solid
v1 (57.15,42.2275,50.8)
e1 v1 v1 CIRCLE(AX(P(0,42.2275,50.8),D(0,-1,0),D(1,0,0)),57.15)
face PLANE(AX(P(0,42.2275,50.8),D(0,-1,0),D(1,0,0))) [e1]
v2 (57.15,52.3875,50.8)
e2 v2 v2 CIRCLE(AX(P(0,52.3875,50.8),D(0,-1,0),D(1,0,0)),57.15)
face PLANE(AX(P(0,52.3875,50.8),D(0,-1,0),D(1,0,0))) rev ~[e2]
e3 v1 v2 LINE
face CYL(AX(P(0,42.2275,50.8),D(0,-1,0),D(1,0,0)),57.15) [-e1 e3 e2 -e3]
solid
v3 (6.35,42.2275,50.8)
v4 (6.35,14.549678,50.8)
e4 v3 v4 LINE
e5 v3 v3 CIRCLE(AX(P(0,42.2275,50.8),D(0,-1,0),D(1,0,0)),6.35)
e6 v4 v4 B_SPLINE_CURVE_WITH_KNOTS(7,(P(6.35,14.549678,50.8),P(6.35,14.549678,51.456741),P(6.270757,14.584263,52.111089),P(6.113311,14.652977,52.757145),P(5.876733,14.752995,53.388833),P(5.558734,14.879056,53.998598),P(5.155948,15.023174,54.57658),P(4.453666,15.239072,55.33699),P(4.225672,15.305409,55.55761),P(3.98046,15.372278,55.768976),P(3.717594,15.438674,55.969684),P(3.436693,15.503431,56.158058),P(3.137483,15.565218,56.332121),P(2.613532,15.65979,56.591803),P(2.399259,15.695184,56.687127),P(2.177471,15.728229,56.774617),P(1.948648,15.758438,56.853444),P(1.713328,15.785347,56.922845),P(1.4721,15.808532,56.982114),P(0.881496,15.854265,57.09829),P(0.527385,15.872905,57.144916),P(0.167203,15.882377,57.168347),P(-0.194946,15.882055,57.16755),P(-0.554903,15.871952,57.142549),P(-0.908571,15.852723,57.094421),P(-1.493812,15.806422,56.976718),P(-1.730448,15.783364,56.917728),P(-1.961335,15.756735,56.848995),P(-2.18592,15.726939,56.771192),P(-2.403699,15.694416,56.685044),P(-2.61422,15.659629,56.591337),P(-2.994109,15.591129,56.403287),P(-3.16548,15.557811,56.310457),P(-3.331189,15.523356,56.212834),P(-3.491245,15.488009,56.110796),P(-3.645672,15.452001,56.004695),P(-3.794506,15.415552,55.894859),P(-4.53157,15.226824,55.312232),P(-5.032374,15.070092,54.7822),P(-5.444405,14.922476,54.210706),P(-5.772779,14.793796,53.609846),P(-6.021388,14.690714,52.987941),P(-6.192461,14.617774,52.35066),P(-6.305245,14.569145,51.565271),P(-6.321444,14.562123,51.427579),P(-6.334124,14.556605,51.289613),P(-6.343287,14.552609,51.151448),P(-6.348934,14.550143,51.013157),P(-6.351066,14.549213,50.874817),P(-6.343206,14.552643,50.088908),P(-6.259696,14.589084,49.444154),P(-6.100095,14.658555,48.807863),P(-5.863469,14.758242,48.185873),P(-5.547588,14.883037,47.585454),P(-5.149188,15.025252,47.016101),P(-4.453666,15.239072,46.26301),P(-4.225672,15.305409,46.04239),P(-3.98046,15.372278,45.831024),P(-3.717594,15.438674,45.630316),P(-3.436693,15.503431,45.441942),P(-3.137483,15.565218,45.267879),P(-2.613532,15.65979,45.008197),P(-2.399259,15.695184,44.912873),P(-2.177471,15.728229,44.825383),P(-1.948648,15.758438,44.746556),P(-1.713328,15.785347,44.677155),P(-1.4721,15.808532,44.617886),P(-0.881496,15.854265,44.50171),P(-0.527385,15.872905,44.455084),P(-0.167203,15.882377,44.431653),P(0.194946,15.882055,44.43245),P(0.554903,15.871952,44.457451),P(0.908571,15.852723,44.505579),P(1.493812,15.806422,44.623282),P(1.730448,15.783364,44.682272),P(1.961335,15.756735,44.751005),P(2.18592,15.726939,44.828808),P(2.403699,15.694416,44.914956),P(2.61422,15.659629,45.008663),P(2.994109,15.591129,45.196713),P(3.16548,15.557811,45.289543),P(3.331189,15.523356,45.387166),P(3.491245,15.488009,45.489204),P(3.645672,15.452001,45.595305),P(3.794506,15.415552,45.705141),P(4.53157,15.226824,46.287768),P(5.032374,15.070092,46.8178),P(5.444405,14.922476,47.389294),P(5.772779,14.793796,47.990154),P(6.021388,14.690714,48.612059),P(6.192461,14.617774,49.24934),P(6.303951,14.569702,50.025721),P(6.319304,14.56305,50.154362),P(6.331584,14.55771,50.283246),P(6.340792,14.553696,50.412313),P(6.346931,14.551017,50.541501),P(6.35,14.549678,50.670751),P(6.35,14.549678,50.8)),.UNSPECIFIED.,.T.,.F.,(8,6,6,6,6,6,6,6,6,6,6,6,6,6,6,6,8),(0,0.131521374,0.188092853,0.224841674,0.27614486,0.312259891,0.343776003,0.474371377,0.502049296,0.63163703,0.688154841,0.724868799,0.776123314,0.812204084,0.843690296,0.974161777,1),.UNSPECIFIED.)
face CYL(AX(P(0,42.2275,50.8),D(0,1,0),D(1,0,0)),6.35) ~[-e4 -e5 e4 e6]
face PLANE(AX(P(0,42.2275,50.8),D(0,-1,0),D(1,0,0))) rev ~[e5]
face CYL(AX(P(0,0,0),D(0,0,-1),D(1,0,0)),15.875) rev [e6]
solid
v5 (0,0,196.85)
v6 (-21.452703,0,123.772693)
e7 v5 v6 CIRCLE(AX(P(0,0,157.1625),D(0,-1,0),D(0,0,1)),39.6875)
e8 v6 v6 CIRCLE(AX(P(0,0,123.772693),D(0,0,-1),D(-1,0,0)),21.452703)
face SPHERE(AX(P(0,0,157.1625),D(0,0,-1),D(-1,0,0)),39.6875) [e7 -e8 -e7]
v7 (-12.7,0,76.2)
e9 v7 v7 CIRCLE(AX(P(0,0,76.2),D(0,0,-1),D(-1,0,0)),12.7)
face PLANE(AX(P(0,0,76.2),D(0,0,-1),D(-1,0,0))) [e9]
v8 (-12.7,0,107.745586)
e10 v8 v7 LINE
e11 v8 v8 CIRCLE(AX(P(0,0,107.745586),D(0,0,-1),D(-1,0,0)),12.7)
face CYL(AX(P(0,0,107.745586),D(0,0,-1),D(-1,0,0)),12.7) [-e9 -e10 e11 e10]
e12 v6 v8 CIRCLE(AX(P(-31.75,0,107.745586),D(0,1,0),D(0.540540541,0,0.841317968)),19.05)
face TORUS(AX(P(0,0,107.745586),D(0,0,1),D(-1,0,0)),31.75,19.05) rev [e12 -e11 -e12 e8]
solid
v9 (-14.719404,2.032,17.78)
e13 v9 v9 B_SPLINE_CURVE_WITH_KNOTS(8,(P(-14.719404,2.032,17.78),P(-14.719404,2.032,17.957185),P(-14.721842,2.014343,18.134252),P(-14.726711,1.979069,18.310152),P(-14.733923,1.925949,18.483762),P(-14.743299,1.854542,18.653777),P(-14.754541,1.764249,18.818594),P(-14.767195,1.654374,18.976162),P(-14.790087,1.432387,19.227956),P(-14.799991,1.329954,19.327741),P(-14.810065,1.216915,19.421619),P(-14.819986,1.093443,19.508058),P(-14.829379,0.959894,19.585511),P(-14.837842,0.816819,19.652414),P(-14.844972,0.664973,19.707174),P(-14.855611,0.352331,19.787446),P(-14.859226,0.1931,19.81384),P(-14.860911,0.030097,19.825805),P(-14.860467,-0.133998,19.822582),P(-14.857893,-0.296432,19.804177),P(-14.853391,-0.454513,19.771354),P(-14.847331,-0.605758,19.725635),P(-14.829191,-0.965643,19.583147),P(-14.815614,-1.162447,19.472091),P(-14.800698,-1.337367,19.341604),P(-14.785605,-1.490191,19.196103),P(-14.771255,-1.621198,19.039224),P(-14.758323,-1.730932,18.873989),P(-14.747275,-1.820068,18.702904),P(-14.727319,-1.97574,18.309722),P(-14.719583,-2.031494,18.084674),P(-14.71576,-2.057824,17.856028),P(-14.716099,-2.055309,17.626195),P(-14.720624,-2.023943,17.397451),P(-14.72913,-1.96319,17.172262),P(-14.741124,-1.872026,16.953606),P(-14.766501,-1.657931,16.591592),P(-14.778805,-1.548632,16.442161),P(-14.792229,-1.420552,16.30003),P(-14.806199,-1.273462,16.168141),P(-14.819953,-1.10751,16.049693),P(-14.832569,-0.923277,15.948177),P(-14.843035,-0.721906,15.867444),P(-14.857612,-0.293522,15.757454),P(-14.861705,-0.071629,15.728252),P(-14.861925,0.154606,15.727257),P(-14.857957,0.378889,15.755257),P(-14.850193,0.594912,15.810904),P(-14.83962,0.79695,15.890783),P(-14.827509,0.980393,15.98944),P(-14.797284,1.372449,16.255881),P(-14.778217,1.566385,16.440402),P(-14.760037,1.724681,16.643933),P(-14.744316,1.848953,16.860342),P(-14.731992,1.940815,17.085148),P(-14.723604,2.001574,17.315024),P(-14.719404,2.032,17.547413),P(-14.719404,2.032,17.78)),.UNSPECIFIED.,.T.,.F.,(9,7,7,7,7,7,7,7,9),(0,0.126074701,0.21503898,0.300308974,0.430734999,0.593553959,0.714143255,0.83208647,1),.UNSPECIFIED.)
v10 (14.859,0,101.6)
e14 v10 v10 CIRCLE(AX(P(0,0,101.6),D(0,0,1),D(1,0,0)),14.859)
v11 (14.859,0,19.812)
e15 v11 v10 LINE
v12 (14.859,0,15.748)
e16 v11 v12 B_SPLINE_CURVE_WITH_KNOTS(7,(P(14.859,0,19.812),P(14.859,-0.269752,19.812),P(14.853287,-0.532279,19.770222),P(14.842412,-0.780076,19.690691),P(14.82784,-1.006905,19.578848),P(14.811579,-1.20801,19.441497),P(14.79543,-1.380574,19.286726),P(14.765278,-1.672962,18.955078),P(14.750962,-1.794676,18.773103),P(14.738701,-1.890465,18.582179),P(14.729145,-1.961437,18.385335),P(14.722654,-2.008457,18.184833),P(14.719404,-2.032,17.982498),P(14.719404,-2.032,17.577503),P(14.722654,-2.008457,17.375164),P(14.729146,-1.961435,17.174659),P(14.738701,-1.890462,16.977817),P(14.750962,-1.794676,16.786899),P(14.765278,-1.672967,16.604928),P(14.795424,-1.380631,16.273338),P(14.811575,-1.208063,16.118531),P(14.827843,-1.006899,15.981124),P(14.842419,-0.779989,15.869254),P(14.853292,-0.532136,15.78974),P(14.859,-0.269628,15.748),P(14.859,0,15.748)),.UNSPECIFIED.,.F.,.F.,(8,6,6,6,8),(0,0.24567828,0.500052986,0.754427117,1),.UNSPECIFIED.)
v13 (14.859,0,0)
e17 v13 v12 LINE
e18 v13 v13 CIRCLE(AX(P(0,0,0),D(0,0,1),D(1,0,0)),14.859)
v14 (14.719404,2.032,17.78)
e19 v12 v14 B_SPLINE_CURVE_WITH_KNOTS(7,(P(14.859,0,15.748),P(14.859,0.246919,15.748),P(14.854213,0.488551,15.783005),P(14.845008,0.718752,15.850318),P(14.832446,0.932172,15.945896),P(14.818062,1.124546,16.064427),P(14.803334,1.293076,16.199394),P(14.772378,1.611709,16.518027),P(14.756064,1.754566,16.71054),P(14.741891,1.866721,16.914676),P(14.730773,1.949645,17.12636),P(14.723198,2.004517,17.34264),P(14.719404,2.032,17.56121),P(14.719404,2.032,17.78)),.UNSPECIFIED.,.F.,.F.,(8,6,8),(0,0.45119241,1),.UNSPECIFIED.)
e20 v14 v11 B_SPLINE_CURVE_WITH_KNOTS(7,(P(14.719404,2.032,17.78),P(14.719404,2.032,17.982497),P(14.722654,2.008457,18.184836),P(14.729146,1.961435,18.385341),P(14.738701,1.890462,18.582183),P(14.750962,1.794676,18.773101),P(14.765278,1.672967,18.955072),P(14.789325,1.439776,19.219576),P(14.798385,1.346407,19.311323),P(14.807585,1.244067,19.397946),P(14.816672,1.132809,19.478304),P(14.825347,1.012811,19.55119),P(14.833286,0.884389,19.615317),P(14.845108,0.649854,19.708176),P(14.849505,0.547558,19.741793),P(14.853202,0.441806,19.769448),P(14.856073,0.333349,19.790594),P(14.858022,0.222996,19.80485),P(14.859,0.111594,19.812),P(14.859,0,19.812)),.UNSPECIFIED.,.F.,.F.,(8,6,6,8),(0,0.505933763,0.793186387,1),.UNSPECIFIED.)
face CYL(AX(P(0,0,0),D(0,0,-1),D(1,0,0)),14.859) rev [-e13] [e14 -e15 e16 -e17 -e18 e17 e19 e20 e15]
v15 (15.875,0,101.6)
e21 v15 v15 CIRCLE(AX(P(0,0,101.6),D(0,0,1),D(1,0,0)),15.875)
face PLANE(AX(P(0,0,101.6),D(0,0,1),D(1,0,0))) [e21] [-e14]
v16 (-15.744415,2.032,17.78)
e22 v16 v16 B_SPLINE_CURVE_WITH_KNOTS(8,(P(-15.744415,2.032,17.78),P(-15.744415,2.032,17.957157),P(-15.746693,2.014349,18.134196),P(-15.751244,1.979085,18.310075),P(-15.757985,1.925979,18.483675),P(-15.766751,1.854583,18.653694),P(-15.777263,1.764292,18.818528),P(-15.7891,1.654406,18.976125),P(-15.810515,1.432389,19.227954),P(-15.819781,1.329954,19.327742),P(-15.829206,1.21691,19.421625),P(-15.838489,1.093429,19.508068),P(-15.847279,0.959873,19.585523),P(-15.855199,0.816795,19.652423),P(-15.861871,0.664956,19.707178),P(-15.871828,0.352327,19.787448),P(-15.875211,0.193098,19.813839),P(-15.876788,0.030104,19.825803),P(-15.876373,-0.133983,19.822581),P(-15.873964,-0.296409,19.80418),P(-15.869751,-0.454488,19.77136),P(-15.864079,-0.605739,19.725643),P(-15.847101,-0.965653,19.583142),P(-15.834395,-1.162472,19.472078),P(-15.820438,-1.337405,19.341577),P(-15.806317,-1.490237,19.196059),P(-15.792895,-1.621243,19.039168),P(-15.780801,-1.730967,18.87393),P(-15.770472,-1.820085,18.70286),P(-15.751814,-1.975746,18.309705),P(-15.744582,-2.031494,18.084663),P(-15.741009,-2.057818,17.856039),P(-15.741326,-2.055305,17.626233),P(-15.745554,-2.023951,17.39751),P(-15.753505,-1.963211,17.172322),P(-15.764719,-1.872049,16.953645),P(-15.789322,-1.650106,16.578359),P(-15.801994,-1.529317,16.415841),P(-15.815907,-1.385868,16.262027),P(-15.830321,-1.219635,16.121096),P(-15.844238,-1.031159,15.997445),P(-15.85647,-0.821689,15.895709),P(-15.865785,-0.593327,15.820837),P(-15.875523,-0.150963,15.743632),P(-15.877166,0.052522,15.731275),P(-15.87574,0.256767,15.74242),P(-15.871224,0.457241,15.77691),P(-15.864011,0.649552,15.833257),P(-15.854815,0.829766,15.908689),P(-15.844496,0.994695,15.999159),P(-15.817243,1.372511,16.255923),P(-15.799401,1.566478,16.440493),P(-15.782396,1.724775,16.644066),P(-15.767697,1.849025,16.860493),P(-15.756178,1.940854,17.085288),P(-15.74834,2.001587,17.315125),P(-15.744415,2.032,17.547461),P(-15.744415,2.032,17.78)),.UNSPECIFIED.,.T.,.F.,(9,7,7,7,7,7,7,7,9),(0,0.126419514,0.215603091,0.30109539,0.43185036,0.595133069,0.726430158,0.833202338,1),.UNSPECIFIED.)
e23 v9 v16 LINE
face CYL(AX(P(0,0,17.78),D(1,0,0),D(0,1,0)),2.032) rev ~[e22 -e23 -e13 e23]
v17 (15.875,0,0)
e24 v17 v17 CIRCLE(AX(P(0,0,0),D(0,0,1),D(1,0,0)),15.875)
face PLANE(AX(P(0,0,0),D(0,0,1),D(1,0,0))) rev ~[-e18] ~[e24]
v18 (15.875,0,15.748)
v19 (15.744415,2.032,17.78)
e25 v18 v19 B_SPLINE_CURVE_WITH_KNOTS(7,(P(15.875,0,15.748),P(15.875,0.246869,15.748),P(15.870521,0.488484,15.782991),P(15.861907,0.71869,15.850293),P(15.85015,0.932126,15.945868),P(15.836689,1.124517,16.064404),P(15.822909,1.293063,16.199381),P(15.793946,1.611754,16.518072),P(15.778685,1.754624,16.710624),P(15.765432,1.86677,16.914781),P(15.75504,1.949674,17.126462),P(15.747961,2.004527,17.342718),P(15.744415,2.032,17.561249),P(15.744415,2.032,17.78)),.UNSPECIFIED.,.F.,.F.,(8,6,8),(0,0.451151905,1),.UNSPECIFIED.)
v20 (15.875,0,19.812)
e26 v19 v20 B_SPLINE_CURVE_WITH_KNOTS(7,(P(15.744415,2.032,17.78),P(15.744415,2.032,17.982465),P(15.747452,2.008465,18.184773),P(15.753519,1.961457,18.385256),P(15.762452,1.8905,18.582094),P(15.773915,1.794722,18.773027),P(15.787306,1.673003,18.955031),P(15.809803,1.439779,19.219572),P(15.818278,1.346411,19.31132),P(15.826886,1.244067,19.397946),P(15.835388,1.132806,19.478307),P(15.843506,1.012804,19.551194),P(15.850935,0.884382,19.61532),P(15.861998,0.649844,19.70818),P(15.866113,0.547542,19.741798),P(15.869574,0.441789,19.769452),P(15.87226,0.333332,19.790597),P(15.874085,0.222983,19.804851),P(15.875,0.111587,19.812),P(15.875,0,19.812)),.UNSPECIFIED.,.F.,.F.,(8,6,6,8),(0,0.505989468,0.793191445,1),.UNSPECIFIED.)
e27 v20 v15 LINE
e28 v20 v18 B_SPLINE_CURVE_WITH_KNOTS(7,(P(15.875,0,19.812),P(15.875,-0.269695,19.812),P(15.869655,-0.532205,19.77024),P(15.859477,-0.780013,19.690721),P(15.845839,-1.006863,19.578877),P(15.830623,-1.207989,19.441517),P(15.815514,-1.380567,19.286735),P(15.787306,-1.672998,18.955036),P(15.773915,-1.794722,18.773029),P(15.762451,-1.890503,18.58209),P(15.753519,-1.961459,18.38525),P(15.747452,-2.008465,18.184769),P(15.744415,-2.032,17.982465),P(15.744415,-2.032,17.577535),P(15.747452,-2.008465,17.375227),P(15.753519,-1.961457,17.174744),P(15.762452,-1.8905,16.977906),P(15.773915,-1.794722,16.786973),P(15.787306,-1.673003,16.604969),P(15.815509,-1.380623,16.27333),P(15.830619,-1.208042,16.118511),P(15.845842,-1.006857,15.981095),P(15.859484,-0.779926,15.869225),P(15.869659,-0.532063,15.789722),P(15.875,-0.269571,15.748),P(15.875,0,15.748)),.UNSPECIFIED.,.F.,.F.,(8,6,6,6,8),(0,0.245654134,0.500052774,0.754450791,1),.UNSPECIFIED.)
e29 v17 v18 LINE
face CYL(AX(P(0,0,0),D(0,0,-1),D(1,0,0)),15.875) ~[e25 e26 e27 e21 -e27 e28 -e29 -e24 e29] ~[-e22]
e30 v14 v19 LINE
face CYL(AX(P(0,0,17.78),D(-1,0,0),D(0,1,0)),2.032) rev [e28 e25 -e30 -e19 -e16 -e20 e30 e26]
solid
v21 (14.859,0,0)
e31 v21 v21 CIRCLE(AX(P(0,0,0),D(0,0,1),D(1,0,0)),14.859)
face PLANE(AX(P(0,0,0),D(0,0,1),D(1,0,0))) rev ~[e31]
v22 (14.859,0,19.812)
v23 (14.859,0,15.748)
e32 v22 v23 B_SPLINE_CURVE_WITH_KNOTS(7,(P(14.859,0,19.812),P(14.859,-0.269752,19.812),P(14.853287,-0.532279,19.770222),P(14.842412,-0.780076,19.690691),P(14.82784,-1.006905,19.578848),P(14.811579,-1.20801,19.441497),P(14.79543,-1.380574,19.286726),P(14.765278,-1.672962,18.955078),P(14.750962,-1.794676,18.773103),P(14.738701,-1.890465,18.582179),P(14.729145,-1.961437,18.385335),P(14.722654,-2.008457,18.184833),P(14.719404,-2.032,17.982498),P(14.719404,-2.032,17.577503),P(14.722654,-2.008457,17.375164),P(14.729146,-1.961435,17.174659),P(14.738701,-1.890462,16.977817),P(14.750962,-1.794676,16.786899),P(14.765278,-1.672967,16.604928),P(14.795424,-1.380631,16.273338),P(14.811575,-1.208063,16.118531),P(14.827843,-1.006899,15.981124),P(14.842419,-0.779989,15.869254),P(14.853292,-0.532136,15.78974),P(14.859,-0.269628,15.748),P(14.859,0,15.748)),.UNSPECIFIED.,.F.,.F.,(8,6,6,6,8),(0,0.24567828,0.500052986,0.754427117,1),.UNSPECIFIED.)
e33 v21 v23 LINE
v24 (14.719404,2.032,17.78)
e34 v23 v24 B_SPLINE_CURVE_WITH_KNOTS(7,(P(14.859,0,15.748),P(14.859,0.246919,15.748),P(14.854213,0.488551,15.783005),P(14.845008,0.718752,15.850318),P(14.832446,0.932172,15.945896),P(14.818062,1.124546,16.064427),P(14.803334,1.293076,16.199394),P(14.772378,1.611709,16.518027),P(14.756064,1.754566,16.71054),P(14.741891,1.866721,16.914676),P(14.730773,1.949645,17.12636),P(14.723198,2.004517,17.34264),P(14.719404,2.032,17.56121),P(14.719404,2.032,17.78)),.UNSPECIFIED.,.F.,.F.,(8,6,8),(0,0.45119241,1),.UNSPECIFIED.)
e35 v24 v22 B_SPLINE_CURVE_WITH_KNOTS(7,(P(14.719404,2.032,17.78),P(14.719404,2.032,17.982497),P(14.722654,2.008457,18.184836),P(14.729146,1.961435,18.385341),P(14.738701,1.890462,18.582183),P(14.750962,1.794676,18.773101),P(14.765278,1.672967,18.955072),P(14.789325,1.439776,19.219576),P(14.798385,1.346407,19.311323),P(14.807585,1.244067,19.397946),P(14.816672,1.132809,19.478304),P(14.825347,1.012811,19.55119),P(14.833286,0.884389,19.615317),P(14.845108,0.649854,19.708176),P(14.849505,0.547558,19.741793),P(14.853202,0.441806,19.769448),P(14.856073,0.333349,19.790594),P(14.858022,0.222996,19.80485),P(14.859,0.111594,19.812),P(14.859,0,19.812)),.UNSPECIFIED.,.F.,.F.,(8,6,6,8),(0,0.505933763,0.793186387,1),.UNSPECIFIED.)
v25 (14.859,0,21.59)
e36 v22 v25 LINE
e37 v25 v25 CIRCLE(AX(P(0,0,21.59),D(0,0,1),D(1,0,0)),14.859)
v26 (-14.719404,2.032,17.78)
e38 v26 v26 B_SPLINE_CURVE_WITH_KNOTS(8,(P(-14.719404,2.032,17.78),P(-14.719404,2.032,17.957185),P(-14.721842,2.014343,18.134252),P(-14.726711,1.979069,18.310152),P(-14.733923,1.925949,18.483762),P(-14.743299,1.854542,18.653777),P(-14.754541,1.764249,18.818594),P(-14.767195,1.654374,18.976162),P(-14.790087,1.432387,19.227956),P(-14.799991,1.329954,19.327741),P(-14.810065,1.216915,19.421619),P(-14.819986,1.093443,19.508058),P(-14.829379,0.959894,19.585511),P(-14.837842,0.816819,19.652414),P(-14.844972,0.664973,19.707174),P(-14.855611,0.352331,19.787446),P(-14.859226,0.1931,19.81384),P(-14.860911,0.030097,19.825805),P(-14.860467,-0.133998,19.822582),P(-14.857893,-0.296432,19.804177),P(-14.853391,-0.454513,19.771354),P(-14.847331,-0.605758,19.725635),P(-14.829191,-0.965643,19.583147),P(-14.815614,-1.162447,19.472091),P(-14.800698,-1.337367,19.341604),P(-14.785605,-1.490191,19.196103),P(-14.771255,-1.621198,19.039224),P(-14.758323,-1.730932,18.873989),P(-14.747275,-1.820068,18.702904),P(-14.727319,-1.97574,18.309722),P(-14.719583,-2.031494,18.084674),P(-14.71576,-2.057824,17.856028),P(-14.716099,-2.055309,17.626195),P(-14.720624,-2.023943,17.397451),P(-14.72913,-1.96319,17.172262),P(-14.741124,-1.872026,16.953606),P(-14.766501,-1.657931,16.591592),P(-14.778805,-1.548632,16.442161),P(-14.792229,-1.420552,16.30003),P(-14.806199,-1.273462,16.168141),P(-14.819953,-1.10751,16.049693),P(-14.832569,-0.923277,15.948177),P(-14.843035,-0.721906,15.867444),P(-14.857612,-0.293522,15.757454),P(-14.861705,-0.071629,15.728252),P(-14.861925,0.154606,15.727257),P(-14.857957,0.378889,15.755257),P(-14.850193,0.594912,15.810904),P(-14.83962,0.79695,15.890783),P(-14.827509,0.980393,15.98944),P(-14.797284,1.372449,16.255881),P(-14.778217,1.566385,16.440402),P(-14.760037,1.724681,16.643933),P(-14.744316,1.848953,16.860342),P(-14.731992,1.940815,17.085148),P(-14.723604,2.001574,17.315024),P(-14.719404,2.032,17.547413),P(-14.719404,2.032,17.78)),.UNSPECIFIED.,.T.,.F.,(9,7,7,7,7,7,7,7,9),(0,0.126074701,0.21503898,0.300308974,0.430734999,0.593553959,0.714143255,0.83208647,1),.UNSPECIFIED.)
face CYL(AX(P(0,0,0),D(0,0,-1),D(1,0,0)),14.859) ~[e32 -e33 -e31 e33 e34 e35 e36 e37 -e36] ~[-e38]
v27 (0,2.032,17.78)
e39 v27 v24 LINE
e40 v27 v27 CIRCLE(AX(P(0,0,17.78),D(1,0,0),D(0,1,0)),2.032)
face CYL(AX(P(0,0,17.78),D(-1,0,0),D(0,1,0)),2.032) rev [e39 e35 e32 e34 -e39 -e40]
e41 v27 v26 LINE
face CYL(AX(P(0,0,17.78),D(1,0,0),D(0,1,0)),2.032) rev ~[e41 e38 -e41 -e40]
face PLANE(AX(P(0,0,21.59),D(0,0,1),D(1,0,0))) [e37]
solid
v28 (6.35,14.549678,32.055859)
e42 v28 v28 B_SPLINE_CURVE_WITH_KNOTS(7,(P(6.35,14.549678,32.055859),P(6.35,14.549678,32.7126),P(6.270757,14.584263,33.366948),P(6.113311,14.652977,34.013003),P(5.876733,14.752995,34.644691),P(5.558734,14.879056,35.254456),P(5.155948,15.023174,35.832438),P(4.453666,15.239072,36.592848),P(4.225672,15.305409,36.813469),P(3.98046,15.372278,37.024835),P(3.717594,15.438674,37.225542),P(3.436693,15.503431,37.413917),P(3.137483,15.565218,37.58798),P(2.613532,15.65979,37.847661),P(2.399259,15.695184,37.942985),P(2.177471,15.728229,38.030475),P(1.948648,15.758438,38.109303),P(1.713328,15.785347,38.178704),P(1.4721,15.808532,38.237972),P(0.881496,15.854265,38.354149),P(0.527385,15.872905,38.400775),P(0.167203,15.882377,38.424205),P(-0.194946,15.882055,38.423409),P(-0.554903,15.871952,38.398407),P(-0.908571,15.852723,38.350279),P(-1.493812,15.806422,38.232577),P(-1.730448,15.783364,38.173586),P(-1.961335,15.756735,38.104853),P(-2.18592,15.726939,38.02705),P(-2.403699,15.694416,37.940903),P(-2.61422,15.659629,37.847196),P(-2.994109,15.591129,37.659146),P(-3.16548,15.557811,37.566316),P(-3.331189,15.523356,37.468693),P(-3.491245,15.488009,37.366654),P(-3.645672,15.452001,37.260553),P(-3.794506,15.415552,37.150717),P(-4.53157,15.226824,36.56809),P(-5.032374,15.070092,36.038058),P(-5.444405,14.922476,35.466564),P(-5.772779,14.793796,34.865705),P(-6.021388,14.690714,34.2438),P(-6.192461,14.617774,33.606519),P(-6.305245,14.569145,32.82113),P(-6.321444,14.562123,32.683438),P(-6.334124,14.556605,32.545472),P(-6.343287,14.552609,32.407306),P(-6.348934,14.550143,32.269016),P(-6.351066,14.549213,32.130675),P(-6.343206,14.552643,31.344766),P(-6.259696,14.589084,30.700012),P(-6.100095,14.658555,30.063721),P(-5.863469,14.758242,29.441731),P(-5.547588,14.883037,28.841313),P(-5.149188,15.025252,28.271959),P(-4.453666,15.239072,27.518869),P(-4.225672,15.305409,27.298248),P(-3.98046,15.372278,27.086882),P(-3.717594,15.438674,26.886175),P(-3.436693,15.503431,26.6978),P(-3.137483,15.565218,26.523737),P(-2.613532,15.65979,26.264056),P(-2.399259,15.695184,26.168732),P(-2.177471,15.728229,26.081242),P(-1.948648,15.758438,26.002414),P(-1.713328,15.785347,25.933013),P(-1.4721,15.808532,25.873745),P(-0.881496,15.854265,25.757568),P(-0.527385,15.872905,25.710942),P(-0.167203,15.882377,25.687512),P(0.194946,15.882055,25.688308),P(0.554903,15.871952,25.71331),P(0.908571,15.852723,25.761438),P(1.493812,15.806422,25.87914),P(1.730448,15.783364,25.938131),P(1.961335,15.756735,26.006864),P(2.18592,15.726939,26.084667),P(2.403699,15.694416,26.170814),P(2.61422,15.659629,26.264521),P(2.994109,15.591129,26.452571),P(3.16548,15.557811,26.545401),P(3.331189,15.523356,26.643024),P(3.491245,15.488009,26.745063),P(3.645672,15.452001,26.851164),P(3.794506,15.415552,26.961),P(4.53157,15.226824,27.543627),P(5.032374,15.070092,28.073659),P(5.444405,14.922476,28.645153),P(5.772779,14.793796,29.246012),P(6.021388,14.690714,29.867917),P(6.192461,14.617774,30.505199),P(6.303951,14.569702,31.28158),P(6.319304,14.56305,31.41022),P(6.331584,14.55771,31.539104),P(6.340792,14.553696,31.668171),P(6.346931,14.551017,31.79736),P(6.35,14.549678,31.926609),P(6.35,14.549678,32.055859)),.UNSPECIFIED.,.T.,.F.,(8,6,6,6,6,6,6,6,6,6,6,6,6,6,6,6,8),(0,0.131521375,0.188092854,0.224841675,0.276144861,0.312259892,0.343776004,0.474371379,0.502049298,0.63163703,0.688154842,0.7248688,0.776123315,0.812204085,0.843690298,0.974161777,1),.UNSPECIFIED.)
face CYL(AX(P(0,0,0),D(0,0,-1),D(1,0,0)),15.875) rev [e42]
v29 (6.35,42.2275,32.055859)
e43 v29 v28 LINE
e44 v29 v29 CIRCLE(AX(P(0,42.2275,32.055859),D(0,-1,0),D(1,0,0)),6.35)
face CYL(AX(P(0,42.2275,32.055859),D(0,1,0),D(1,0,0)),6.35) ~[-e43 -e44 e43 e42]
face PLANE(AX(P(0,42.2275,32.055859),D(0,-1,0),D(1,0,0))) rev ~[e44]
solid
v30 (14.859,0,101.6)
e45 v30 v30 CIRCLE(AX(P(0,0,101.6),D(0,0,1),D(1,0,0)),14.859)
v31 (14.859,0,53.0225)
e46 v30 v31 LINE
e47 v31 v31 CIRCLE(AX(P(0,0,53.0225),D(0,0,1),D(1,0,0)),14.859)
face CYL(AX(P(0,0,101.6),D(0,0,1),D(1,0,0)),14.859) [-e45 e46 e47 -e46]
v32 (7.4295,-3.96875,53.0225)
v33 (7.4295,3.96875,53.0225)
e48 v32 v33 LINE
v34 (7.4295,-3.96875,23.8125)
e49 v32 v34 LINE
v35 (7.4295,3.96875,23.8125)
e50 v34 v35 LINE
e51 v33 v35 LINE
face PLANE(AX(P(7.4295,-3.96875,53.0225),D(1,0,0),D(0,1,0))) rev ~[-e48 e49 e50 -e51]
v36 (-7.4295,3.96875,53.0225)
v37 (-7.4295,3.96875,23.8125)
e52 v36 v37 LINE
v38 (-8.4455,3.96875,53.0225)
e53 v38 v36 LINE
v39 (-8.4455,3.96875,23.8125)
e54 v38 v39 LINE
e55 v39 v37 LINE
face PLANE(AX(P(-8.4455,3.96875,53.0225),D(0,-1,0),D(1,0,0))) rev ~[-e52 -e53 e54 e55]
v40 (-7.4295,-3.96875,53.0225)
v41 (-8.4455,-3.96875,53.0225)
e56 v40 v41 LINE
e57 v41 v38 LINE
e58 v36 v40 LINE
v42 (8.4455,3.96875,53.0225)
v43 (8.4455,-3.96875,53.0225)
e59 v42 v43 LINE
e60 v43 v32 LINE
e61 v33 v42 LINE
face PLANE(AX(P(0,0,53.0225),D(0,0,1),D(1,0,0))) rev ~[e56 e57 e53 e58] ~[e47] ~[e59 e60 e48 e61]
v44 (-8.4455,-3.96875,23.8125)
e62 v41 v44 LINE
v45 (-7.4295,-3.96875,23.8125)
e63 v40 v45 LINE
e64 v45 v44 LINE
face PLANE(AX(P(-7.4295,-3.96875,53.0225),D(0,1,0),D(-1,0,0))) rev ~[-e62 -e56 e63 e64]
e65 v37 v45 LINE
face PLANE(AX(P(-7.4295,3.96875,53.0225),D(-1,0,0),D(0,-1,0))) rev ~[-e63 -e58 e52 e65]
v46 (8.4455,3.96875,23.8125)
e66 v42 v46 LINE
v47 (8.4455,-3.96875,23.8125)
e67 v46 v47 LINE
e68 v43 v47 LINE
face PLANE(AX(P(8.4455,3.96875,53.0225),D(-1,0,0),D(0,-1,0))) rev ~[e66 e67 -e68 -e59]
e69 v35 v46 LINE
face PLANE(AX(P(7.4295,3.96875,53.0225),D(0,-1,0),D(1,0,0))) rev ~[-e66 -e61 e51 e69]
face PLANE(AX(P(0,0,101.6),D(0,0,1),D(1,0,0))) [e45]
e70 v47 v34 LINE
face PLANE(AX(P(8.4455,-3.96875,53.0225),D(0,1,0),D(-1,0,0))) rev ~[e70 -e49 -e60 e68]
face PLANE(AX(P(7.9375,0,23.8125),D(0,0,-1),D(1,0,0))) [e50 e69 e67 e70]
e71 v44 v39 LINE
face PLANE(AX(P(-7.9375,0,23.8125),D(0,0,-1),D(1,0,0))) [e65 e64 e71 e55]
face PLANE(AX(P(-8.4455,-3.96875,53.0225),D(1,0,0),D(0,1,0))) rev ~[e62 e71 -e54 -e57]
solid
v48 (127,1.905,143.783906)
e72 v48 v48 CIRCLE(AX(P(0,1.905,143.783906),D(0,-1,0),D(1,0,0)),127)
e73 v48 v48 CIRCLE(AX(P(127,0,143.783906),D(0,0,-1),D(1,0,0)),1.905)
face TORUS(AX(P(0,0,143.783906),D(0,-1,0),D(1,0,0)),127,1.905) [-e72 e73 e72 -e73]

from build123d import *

# Parameters (mm, degrees)
F0_R          = 15.875
F0_R_2        = 14.859
F1_DEPTH      = 101.6
F2_DEPTH      = 21.59
F5_R          = 2.032
F6_DEPTH      = 39.6885
F6_DEPTH_BACK = 39.6885
F8_R          = 1.905
F13_R         = 6.35
F13_R_2       = 57.15
F15_DEPTH     = 10.16
F16_R         = 14.859
F17_DEPTH     = 48.5775
F19_DEPTH     = 29.21


with BuildPart() as f1:
    # F0 (on Top) → F1 (new body)
    with BuildSketch(Plane.XY):
        Circle(F0_R)
        Circle(F0_R_2, mode=Mode.SUBTRACT)
    extrude(amount=F1_DEPTH)


with BuildPart() as f2:
    # F0 (on Top) → F2 (new body)
    with BuildSketch(Plane.XY):
        Circle(F0_R_2)
    extrude(amount=F2_DEPTH)


with BuildPart() as f4:
    # F3 (on Front) → F4 (revolve)
    with BuildSketch(Plane.XZ):
        with BuildLine():
            Line((0, 76.2), (0, 196.85))
            ThreePointArc((0, 196.85), (-38.080543697, 168.3414913675), (-21.4527027027, 123.7726931273))
            ThreePointArc((-21.4527027027, 123.7726931273), (-15.0307593846, 116.8762754651), (-12.7, 107.7455858283))
            Line((-12.7, 107.7455858283), (-12.7, 76.2))
            Line((-12.7, 76.2), (0, 76.2))
        make_face()
    revolve(axis=Axis((0, 0, 136.525), (0, 0, -1)))


with BuildPart() as f6_tool:
    # F5 (on Right) → F6 (new body, two sides)
    with BuildSketch(Plane.YZ) as f6_sk:
        with Locations((0, 17.78)):
            Circle(F5_R)
    extrude(amount=-F6_DEPTH)
    extrude(f6_sk.sketch, amount=F6_DEPTH_BACK)


with BuildPart() as f1_1:
    add(f1.part)

    # F6: cut by f6_tool
    add(f6_tool.part, mode=Mode.SUBTRACT)


with BuildPart() as f2_1:
    add(f2.part)

    # F6: cut by f6_tool
    add(f6_tool.part, mode=Mode.SUBTRACT)


with BuildPart() as f9:
    # F9: sweep along a path in F7
    with BuildLine(Plane.XZ) as f9_path:
        CenterArc((0, 143.7839062312), 127, 0, 360)
    # F8 (on Right) → F9 (sweep)
    with BuildSketch(Plane.YZ):
        with Locations((0, 16.7839062312)):
            Circle(F8_R)
    sweep(path=f9_path.line)


with BuildPart() as f14:
    # F13 (on offset) → F14 (new body, up to the next surface of F1)
    with BuildSketch(Plane.XZ.offset(-42.2275)):
        with Locations((0, 50.8)):
            Circle(F13_R)
    extrude(until=Until.NEXT, target=f1_1.part)


with BuildPart() as f14b:
    # F13 (on offset) → F14, piece 2 (new body, up to the next surface of F1)
    with BuildSketch(Plane.XZ.offset(-42.2275)):
        with Locations((0, 32.0558585227)):
            Circle(F13_R)
    extrude(until=Until.NEXT, target=f1_1.part)


with BuildPart() as f15:
    # F13 (on offset) → F15 (new body)
    with BuildSketch(Plane.XZ.offset(-42.2275)):
        with Locations((0, 50.8)):
            Circle(F13_R_2)
        with Locations((0, 32.0558585227)):
            Circle(F13_R, mode=Mode.SUBTRACT)
        with Locations((0, 50.8)):
            Circle(F13_R, mode=Mode.SUBTRACT)
        with Locations((0, 32.0558585227)):
            Circle(F13_R)
        with Locations((0, 50.8)):
            Circle(F13_R)
    extrude(amount=-F15_DEPTH)


with BuildPart() as f17:
    # F16 (on face) → F17 (new body)
    with BuildSketch(Plane.XY.offset(101.6)):
        Circle(F16_R)
    extrude(amount=-F17_DEPTH)

    # F18 (on face) → F19 (join)
    with BuildSketch(Plane(origin=(0, 0, 53.0225), x_dir=(1, 0, 0), z_dir=(0, 0, -1))):
        Polygon((-7.4295, -3.96875), (-7.4295, 0), (-7.4295, 3.96875), (-8.4455, 3.96875), (-8.4455, -3.96875), align=None)
        Polygon((8.4455, 3.96875), (7.4295, 3.96875), (7.4295, 0), (7.4295, -3.96875), (8.4455, -3.96875), align=None)
    extrude(amount=F19_DEPTH)


solid = Compound([f4.part, f1_1.part, f2_1.part, f9.part, f14.part, f14b.part, f15.part, f17.part])
